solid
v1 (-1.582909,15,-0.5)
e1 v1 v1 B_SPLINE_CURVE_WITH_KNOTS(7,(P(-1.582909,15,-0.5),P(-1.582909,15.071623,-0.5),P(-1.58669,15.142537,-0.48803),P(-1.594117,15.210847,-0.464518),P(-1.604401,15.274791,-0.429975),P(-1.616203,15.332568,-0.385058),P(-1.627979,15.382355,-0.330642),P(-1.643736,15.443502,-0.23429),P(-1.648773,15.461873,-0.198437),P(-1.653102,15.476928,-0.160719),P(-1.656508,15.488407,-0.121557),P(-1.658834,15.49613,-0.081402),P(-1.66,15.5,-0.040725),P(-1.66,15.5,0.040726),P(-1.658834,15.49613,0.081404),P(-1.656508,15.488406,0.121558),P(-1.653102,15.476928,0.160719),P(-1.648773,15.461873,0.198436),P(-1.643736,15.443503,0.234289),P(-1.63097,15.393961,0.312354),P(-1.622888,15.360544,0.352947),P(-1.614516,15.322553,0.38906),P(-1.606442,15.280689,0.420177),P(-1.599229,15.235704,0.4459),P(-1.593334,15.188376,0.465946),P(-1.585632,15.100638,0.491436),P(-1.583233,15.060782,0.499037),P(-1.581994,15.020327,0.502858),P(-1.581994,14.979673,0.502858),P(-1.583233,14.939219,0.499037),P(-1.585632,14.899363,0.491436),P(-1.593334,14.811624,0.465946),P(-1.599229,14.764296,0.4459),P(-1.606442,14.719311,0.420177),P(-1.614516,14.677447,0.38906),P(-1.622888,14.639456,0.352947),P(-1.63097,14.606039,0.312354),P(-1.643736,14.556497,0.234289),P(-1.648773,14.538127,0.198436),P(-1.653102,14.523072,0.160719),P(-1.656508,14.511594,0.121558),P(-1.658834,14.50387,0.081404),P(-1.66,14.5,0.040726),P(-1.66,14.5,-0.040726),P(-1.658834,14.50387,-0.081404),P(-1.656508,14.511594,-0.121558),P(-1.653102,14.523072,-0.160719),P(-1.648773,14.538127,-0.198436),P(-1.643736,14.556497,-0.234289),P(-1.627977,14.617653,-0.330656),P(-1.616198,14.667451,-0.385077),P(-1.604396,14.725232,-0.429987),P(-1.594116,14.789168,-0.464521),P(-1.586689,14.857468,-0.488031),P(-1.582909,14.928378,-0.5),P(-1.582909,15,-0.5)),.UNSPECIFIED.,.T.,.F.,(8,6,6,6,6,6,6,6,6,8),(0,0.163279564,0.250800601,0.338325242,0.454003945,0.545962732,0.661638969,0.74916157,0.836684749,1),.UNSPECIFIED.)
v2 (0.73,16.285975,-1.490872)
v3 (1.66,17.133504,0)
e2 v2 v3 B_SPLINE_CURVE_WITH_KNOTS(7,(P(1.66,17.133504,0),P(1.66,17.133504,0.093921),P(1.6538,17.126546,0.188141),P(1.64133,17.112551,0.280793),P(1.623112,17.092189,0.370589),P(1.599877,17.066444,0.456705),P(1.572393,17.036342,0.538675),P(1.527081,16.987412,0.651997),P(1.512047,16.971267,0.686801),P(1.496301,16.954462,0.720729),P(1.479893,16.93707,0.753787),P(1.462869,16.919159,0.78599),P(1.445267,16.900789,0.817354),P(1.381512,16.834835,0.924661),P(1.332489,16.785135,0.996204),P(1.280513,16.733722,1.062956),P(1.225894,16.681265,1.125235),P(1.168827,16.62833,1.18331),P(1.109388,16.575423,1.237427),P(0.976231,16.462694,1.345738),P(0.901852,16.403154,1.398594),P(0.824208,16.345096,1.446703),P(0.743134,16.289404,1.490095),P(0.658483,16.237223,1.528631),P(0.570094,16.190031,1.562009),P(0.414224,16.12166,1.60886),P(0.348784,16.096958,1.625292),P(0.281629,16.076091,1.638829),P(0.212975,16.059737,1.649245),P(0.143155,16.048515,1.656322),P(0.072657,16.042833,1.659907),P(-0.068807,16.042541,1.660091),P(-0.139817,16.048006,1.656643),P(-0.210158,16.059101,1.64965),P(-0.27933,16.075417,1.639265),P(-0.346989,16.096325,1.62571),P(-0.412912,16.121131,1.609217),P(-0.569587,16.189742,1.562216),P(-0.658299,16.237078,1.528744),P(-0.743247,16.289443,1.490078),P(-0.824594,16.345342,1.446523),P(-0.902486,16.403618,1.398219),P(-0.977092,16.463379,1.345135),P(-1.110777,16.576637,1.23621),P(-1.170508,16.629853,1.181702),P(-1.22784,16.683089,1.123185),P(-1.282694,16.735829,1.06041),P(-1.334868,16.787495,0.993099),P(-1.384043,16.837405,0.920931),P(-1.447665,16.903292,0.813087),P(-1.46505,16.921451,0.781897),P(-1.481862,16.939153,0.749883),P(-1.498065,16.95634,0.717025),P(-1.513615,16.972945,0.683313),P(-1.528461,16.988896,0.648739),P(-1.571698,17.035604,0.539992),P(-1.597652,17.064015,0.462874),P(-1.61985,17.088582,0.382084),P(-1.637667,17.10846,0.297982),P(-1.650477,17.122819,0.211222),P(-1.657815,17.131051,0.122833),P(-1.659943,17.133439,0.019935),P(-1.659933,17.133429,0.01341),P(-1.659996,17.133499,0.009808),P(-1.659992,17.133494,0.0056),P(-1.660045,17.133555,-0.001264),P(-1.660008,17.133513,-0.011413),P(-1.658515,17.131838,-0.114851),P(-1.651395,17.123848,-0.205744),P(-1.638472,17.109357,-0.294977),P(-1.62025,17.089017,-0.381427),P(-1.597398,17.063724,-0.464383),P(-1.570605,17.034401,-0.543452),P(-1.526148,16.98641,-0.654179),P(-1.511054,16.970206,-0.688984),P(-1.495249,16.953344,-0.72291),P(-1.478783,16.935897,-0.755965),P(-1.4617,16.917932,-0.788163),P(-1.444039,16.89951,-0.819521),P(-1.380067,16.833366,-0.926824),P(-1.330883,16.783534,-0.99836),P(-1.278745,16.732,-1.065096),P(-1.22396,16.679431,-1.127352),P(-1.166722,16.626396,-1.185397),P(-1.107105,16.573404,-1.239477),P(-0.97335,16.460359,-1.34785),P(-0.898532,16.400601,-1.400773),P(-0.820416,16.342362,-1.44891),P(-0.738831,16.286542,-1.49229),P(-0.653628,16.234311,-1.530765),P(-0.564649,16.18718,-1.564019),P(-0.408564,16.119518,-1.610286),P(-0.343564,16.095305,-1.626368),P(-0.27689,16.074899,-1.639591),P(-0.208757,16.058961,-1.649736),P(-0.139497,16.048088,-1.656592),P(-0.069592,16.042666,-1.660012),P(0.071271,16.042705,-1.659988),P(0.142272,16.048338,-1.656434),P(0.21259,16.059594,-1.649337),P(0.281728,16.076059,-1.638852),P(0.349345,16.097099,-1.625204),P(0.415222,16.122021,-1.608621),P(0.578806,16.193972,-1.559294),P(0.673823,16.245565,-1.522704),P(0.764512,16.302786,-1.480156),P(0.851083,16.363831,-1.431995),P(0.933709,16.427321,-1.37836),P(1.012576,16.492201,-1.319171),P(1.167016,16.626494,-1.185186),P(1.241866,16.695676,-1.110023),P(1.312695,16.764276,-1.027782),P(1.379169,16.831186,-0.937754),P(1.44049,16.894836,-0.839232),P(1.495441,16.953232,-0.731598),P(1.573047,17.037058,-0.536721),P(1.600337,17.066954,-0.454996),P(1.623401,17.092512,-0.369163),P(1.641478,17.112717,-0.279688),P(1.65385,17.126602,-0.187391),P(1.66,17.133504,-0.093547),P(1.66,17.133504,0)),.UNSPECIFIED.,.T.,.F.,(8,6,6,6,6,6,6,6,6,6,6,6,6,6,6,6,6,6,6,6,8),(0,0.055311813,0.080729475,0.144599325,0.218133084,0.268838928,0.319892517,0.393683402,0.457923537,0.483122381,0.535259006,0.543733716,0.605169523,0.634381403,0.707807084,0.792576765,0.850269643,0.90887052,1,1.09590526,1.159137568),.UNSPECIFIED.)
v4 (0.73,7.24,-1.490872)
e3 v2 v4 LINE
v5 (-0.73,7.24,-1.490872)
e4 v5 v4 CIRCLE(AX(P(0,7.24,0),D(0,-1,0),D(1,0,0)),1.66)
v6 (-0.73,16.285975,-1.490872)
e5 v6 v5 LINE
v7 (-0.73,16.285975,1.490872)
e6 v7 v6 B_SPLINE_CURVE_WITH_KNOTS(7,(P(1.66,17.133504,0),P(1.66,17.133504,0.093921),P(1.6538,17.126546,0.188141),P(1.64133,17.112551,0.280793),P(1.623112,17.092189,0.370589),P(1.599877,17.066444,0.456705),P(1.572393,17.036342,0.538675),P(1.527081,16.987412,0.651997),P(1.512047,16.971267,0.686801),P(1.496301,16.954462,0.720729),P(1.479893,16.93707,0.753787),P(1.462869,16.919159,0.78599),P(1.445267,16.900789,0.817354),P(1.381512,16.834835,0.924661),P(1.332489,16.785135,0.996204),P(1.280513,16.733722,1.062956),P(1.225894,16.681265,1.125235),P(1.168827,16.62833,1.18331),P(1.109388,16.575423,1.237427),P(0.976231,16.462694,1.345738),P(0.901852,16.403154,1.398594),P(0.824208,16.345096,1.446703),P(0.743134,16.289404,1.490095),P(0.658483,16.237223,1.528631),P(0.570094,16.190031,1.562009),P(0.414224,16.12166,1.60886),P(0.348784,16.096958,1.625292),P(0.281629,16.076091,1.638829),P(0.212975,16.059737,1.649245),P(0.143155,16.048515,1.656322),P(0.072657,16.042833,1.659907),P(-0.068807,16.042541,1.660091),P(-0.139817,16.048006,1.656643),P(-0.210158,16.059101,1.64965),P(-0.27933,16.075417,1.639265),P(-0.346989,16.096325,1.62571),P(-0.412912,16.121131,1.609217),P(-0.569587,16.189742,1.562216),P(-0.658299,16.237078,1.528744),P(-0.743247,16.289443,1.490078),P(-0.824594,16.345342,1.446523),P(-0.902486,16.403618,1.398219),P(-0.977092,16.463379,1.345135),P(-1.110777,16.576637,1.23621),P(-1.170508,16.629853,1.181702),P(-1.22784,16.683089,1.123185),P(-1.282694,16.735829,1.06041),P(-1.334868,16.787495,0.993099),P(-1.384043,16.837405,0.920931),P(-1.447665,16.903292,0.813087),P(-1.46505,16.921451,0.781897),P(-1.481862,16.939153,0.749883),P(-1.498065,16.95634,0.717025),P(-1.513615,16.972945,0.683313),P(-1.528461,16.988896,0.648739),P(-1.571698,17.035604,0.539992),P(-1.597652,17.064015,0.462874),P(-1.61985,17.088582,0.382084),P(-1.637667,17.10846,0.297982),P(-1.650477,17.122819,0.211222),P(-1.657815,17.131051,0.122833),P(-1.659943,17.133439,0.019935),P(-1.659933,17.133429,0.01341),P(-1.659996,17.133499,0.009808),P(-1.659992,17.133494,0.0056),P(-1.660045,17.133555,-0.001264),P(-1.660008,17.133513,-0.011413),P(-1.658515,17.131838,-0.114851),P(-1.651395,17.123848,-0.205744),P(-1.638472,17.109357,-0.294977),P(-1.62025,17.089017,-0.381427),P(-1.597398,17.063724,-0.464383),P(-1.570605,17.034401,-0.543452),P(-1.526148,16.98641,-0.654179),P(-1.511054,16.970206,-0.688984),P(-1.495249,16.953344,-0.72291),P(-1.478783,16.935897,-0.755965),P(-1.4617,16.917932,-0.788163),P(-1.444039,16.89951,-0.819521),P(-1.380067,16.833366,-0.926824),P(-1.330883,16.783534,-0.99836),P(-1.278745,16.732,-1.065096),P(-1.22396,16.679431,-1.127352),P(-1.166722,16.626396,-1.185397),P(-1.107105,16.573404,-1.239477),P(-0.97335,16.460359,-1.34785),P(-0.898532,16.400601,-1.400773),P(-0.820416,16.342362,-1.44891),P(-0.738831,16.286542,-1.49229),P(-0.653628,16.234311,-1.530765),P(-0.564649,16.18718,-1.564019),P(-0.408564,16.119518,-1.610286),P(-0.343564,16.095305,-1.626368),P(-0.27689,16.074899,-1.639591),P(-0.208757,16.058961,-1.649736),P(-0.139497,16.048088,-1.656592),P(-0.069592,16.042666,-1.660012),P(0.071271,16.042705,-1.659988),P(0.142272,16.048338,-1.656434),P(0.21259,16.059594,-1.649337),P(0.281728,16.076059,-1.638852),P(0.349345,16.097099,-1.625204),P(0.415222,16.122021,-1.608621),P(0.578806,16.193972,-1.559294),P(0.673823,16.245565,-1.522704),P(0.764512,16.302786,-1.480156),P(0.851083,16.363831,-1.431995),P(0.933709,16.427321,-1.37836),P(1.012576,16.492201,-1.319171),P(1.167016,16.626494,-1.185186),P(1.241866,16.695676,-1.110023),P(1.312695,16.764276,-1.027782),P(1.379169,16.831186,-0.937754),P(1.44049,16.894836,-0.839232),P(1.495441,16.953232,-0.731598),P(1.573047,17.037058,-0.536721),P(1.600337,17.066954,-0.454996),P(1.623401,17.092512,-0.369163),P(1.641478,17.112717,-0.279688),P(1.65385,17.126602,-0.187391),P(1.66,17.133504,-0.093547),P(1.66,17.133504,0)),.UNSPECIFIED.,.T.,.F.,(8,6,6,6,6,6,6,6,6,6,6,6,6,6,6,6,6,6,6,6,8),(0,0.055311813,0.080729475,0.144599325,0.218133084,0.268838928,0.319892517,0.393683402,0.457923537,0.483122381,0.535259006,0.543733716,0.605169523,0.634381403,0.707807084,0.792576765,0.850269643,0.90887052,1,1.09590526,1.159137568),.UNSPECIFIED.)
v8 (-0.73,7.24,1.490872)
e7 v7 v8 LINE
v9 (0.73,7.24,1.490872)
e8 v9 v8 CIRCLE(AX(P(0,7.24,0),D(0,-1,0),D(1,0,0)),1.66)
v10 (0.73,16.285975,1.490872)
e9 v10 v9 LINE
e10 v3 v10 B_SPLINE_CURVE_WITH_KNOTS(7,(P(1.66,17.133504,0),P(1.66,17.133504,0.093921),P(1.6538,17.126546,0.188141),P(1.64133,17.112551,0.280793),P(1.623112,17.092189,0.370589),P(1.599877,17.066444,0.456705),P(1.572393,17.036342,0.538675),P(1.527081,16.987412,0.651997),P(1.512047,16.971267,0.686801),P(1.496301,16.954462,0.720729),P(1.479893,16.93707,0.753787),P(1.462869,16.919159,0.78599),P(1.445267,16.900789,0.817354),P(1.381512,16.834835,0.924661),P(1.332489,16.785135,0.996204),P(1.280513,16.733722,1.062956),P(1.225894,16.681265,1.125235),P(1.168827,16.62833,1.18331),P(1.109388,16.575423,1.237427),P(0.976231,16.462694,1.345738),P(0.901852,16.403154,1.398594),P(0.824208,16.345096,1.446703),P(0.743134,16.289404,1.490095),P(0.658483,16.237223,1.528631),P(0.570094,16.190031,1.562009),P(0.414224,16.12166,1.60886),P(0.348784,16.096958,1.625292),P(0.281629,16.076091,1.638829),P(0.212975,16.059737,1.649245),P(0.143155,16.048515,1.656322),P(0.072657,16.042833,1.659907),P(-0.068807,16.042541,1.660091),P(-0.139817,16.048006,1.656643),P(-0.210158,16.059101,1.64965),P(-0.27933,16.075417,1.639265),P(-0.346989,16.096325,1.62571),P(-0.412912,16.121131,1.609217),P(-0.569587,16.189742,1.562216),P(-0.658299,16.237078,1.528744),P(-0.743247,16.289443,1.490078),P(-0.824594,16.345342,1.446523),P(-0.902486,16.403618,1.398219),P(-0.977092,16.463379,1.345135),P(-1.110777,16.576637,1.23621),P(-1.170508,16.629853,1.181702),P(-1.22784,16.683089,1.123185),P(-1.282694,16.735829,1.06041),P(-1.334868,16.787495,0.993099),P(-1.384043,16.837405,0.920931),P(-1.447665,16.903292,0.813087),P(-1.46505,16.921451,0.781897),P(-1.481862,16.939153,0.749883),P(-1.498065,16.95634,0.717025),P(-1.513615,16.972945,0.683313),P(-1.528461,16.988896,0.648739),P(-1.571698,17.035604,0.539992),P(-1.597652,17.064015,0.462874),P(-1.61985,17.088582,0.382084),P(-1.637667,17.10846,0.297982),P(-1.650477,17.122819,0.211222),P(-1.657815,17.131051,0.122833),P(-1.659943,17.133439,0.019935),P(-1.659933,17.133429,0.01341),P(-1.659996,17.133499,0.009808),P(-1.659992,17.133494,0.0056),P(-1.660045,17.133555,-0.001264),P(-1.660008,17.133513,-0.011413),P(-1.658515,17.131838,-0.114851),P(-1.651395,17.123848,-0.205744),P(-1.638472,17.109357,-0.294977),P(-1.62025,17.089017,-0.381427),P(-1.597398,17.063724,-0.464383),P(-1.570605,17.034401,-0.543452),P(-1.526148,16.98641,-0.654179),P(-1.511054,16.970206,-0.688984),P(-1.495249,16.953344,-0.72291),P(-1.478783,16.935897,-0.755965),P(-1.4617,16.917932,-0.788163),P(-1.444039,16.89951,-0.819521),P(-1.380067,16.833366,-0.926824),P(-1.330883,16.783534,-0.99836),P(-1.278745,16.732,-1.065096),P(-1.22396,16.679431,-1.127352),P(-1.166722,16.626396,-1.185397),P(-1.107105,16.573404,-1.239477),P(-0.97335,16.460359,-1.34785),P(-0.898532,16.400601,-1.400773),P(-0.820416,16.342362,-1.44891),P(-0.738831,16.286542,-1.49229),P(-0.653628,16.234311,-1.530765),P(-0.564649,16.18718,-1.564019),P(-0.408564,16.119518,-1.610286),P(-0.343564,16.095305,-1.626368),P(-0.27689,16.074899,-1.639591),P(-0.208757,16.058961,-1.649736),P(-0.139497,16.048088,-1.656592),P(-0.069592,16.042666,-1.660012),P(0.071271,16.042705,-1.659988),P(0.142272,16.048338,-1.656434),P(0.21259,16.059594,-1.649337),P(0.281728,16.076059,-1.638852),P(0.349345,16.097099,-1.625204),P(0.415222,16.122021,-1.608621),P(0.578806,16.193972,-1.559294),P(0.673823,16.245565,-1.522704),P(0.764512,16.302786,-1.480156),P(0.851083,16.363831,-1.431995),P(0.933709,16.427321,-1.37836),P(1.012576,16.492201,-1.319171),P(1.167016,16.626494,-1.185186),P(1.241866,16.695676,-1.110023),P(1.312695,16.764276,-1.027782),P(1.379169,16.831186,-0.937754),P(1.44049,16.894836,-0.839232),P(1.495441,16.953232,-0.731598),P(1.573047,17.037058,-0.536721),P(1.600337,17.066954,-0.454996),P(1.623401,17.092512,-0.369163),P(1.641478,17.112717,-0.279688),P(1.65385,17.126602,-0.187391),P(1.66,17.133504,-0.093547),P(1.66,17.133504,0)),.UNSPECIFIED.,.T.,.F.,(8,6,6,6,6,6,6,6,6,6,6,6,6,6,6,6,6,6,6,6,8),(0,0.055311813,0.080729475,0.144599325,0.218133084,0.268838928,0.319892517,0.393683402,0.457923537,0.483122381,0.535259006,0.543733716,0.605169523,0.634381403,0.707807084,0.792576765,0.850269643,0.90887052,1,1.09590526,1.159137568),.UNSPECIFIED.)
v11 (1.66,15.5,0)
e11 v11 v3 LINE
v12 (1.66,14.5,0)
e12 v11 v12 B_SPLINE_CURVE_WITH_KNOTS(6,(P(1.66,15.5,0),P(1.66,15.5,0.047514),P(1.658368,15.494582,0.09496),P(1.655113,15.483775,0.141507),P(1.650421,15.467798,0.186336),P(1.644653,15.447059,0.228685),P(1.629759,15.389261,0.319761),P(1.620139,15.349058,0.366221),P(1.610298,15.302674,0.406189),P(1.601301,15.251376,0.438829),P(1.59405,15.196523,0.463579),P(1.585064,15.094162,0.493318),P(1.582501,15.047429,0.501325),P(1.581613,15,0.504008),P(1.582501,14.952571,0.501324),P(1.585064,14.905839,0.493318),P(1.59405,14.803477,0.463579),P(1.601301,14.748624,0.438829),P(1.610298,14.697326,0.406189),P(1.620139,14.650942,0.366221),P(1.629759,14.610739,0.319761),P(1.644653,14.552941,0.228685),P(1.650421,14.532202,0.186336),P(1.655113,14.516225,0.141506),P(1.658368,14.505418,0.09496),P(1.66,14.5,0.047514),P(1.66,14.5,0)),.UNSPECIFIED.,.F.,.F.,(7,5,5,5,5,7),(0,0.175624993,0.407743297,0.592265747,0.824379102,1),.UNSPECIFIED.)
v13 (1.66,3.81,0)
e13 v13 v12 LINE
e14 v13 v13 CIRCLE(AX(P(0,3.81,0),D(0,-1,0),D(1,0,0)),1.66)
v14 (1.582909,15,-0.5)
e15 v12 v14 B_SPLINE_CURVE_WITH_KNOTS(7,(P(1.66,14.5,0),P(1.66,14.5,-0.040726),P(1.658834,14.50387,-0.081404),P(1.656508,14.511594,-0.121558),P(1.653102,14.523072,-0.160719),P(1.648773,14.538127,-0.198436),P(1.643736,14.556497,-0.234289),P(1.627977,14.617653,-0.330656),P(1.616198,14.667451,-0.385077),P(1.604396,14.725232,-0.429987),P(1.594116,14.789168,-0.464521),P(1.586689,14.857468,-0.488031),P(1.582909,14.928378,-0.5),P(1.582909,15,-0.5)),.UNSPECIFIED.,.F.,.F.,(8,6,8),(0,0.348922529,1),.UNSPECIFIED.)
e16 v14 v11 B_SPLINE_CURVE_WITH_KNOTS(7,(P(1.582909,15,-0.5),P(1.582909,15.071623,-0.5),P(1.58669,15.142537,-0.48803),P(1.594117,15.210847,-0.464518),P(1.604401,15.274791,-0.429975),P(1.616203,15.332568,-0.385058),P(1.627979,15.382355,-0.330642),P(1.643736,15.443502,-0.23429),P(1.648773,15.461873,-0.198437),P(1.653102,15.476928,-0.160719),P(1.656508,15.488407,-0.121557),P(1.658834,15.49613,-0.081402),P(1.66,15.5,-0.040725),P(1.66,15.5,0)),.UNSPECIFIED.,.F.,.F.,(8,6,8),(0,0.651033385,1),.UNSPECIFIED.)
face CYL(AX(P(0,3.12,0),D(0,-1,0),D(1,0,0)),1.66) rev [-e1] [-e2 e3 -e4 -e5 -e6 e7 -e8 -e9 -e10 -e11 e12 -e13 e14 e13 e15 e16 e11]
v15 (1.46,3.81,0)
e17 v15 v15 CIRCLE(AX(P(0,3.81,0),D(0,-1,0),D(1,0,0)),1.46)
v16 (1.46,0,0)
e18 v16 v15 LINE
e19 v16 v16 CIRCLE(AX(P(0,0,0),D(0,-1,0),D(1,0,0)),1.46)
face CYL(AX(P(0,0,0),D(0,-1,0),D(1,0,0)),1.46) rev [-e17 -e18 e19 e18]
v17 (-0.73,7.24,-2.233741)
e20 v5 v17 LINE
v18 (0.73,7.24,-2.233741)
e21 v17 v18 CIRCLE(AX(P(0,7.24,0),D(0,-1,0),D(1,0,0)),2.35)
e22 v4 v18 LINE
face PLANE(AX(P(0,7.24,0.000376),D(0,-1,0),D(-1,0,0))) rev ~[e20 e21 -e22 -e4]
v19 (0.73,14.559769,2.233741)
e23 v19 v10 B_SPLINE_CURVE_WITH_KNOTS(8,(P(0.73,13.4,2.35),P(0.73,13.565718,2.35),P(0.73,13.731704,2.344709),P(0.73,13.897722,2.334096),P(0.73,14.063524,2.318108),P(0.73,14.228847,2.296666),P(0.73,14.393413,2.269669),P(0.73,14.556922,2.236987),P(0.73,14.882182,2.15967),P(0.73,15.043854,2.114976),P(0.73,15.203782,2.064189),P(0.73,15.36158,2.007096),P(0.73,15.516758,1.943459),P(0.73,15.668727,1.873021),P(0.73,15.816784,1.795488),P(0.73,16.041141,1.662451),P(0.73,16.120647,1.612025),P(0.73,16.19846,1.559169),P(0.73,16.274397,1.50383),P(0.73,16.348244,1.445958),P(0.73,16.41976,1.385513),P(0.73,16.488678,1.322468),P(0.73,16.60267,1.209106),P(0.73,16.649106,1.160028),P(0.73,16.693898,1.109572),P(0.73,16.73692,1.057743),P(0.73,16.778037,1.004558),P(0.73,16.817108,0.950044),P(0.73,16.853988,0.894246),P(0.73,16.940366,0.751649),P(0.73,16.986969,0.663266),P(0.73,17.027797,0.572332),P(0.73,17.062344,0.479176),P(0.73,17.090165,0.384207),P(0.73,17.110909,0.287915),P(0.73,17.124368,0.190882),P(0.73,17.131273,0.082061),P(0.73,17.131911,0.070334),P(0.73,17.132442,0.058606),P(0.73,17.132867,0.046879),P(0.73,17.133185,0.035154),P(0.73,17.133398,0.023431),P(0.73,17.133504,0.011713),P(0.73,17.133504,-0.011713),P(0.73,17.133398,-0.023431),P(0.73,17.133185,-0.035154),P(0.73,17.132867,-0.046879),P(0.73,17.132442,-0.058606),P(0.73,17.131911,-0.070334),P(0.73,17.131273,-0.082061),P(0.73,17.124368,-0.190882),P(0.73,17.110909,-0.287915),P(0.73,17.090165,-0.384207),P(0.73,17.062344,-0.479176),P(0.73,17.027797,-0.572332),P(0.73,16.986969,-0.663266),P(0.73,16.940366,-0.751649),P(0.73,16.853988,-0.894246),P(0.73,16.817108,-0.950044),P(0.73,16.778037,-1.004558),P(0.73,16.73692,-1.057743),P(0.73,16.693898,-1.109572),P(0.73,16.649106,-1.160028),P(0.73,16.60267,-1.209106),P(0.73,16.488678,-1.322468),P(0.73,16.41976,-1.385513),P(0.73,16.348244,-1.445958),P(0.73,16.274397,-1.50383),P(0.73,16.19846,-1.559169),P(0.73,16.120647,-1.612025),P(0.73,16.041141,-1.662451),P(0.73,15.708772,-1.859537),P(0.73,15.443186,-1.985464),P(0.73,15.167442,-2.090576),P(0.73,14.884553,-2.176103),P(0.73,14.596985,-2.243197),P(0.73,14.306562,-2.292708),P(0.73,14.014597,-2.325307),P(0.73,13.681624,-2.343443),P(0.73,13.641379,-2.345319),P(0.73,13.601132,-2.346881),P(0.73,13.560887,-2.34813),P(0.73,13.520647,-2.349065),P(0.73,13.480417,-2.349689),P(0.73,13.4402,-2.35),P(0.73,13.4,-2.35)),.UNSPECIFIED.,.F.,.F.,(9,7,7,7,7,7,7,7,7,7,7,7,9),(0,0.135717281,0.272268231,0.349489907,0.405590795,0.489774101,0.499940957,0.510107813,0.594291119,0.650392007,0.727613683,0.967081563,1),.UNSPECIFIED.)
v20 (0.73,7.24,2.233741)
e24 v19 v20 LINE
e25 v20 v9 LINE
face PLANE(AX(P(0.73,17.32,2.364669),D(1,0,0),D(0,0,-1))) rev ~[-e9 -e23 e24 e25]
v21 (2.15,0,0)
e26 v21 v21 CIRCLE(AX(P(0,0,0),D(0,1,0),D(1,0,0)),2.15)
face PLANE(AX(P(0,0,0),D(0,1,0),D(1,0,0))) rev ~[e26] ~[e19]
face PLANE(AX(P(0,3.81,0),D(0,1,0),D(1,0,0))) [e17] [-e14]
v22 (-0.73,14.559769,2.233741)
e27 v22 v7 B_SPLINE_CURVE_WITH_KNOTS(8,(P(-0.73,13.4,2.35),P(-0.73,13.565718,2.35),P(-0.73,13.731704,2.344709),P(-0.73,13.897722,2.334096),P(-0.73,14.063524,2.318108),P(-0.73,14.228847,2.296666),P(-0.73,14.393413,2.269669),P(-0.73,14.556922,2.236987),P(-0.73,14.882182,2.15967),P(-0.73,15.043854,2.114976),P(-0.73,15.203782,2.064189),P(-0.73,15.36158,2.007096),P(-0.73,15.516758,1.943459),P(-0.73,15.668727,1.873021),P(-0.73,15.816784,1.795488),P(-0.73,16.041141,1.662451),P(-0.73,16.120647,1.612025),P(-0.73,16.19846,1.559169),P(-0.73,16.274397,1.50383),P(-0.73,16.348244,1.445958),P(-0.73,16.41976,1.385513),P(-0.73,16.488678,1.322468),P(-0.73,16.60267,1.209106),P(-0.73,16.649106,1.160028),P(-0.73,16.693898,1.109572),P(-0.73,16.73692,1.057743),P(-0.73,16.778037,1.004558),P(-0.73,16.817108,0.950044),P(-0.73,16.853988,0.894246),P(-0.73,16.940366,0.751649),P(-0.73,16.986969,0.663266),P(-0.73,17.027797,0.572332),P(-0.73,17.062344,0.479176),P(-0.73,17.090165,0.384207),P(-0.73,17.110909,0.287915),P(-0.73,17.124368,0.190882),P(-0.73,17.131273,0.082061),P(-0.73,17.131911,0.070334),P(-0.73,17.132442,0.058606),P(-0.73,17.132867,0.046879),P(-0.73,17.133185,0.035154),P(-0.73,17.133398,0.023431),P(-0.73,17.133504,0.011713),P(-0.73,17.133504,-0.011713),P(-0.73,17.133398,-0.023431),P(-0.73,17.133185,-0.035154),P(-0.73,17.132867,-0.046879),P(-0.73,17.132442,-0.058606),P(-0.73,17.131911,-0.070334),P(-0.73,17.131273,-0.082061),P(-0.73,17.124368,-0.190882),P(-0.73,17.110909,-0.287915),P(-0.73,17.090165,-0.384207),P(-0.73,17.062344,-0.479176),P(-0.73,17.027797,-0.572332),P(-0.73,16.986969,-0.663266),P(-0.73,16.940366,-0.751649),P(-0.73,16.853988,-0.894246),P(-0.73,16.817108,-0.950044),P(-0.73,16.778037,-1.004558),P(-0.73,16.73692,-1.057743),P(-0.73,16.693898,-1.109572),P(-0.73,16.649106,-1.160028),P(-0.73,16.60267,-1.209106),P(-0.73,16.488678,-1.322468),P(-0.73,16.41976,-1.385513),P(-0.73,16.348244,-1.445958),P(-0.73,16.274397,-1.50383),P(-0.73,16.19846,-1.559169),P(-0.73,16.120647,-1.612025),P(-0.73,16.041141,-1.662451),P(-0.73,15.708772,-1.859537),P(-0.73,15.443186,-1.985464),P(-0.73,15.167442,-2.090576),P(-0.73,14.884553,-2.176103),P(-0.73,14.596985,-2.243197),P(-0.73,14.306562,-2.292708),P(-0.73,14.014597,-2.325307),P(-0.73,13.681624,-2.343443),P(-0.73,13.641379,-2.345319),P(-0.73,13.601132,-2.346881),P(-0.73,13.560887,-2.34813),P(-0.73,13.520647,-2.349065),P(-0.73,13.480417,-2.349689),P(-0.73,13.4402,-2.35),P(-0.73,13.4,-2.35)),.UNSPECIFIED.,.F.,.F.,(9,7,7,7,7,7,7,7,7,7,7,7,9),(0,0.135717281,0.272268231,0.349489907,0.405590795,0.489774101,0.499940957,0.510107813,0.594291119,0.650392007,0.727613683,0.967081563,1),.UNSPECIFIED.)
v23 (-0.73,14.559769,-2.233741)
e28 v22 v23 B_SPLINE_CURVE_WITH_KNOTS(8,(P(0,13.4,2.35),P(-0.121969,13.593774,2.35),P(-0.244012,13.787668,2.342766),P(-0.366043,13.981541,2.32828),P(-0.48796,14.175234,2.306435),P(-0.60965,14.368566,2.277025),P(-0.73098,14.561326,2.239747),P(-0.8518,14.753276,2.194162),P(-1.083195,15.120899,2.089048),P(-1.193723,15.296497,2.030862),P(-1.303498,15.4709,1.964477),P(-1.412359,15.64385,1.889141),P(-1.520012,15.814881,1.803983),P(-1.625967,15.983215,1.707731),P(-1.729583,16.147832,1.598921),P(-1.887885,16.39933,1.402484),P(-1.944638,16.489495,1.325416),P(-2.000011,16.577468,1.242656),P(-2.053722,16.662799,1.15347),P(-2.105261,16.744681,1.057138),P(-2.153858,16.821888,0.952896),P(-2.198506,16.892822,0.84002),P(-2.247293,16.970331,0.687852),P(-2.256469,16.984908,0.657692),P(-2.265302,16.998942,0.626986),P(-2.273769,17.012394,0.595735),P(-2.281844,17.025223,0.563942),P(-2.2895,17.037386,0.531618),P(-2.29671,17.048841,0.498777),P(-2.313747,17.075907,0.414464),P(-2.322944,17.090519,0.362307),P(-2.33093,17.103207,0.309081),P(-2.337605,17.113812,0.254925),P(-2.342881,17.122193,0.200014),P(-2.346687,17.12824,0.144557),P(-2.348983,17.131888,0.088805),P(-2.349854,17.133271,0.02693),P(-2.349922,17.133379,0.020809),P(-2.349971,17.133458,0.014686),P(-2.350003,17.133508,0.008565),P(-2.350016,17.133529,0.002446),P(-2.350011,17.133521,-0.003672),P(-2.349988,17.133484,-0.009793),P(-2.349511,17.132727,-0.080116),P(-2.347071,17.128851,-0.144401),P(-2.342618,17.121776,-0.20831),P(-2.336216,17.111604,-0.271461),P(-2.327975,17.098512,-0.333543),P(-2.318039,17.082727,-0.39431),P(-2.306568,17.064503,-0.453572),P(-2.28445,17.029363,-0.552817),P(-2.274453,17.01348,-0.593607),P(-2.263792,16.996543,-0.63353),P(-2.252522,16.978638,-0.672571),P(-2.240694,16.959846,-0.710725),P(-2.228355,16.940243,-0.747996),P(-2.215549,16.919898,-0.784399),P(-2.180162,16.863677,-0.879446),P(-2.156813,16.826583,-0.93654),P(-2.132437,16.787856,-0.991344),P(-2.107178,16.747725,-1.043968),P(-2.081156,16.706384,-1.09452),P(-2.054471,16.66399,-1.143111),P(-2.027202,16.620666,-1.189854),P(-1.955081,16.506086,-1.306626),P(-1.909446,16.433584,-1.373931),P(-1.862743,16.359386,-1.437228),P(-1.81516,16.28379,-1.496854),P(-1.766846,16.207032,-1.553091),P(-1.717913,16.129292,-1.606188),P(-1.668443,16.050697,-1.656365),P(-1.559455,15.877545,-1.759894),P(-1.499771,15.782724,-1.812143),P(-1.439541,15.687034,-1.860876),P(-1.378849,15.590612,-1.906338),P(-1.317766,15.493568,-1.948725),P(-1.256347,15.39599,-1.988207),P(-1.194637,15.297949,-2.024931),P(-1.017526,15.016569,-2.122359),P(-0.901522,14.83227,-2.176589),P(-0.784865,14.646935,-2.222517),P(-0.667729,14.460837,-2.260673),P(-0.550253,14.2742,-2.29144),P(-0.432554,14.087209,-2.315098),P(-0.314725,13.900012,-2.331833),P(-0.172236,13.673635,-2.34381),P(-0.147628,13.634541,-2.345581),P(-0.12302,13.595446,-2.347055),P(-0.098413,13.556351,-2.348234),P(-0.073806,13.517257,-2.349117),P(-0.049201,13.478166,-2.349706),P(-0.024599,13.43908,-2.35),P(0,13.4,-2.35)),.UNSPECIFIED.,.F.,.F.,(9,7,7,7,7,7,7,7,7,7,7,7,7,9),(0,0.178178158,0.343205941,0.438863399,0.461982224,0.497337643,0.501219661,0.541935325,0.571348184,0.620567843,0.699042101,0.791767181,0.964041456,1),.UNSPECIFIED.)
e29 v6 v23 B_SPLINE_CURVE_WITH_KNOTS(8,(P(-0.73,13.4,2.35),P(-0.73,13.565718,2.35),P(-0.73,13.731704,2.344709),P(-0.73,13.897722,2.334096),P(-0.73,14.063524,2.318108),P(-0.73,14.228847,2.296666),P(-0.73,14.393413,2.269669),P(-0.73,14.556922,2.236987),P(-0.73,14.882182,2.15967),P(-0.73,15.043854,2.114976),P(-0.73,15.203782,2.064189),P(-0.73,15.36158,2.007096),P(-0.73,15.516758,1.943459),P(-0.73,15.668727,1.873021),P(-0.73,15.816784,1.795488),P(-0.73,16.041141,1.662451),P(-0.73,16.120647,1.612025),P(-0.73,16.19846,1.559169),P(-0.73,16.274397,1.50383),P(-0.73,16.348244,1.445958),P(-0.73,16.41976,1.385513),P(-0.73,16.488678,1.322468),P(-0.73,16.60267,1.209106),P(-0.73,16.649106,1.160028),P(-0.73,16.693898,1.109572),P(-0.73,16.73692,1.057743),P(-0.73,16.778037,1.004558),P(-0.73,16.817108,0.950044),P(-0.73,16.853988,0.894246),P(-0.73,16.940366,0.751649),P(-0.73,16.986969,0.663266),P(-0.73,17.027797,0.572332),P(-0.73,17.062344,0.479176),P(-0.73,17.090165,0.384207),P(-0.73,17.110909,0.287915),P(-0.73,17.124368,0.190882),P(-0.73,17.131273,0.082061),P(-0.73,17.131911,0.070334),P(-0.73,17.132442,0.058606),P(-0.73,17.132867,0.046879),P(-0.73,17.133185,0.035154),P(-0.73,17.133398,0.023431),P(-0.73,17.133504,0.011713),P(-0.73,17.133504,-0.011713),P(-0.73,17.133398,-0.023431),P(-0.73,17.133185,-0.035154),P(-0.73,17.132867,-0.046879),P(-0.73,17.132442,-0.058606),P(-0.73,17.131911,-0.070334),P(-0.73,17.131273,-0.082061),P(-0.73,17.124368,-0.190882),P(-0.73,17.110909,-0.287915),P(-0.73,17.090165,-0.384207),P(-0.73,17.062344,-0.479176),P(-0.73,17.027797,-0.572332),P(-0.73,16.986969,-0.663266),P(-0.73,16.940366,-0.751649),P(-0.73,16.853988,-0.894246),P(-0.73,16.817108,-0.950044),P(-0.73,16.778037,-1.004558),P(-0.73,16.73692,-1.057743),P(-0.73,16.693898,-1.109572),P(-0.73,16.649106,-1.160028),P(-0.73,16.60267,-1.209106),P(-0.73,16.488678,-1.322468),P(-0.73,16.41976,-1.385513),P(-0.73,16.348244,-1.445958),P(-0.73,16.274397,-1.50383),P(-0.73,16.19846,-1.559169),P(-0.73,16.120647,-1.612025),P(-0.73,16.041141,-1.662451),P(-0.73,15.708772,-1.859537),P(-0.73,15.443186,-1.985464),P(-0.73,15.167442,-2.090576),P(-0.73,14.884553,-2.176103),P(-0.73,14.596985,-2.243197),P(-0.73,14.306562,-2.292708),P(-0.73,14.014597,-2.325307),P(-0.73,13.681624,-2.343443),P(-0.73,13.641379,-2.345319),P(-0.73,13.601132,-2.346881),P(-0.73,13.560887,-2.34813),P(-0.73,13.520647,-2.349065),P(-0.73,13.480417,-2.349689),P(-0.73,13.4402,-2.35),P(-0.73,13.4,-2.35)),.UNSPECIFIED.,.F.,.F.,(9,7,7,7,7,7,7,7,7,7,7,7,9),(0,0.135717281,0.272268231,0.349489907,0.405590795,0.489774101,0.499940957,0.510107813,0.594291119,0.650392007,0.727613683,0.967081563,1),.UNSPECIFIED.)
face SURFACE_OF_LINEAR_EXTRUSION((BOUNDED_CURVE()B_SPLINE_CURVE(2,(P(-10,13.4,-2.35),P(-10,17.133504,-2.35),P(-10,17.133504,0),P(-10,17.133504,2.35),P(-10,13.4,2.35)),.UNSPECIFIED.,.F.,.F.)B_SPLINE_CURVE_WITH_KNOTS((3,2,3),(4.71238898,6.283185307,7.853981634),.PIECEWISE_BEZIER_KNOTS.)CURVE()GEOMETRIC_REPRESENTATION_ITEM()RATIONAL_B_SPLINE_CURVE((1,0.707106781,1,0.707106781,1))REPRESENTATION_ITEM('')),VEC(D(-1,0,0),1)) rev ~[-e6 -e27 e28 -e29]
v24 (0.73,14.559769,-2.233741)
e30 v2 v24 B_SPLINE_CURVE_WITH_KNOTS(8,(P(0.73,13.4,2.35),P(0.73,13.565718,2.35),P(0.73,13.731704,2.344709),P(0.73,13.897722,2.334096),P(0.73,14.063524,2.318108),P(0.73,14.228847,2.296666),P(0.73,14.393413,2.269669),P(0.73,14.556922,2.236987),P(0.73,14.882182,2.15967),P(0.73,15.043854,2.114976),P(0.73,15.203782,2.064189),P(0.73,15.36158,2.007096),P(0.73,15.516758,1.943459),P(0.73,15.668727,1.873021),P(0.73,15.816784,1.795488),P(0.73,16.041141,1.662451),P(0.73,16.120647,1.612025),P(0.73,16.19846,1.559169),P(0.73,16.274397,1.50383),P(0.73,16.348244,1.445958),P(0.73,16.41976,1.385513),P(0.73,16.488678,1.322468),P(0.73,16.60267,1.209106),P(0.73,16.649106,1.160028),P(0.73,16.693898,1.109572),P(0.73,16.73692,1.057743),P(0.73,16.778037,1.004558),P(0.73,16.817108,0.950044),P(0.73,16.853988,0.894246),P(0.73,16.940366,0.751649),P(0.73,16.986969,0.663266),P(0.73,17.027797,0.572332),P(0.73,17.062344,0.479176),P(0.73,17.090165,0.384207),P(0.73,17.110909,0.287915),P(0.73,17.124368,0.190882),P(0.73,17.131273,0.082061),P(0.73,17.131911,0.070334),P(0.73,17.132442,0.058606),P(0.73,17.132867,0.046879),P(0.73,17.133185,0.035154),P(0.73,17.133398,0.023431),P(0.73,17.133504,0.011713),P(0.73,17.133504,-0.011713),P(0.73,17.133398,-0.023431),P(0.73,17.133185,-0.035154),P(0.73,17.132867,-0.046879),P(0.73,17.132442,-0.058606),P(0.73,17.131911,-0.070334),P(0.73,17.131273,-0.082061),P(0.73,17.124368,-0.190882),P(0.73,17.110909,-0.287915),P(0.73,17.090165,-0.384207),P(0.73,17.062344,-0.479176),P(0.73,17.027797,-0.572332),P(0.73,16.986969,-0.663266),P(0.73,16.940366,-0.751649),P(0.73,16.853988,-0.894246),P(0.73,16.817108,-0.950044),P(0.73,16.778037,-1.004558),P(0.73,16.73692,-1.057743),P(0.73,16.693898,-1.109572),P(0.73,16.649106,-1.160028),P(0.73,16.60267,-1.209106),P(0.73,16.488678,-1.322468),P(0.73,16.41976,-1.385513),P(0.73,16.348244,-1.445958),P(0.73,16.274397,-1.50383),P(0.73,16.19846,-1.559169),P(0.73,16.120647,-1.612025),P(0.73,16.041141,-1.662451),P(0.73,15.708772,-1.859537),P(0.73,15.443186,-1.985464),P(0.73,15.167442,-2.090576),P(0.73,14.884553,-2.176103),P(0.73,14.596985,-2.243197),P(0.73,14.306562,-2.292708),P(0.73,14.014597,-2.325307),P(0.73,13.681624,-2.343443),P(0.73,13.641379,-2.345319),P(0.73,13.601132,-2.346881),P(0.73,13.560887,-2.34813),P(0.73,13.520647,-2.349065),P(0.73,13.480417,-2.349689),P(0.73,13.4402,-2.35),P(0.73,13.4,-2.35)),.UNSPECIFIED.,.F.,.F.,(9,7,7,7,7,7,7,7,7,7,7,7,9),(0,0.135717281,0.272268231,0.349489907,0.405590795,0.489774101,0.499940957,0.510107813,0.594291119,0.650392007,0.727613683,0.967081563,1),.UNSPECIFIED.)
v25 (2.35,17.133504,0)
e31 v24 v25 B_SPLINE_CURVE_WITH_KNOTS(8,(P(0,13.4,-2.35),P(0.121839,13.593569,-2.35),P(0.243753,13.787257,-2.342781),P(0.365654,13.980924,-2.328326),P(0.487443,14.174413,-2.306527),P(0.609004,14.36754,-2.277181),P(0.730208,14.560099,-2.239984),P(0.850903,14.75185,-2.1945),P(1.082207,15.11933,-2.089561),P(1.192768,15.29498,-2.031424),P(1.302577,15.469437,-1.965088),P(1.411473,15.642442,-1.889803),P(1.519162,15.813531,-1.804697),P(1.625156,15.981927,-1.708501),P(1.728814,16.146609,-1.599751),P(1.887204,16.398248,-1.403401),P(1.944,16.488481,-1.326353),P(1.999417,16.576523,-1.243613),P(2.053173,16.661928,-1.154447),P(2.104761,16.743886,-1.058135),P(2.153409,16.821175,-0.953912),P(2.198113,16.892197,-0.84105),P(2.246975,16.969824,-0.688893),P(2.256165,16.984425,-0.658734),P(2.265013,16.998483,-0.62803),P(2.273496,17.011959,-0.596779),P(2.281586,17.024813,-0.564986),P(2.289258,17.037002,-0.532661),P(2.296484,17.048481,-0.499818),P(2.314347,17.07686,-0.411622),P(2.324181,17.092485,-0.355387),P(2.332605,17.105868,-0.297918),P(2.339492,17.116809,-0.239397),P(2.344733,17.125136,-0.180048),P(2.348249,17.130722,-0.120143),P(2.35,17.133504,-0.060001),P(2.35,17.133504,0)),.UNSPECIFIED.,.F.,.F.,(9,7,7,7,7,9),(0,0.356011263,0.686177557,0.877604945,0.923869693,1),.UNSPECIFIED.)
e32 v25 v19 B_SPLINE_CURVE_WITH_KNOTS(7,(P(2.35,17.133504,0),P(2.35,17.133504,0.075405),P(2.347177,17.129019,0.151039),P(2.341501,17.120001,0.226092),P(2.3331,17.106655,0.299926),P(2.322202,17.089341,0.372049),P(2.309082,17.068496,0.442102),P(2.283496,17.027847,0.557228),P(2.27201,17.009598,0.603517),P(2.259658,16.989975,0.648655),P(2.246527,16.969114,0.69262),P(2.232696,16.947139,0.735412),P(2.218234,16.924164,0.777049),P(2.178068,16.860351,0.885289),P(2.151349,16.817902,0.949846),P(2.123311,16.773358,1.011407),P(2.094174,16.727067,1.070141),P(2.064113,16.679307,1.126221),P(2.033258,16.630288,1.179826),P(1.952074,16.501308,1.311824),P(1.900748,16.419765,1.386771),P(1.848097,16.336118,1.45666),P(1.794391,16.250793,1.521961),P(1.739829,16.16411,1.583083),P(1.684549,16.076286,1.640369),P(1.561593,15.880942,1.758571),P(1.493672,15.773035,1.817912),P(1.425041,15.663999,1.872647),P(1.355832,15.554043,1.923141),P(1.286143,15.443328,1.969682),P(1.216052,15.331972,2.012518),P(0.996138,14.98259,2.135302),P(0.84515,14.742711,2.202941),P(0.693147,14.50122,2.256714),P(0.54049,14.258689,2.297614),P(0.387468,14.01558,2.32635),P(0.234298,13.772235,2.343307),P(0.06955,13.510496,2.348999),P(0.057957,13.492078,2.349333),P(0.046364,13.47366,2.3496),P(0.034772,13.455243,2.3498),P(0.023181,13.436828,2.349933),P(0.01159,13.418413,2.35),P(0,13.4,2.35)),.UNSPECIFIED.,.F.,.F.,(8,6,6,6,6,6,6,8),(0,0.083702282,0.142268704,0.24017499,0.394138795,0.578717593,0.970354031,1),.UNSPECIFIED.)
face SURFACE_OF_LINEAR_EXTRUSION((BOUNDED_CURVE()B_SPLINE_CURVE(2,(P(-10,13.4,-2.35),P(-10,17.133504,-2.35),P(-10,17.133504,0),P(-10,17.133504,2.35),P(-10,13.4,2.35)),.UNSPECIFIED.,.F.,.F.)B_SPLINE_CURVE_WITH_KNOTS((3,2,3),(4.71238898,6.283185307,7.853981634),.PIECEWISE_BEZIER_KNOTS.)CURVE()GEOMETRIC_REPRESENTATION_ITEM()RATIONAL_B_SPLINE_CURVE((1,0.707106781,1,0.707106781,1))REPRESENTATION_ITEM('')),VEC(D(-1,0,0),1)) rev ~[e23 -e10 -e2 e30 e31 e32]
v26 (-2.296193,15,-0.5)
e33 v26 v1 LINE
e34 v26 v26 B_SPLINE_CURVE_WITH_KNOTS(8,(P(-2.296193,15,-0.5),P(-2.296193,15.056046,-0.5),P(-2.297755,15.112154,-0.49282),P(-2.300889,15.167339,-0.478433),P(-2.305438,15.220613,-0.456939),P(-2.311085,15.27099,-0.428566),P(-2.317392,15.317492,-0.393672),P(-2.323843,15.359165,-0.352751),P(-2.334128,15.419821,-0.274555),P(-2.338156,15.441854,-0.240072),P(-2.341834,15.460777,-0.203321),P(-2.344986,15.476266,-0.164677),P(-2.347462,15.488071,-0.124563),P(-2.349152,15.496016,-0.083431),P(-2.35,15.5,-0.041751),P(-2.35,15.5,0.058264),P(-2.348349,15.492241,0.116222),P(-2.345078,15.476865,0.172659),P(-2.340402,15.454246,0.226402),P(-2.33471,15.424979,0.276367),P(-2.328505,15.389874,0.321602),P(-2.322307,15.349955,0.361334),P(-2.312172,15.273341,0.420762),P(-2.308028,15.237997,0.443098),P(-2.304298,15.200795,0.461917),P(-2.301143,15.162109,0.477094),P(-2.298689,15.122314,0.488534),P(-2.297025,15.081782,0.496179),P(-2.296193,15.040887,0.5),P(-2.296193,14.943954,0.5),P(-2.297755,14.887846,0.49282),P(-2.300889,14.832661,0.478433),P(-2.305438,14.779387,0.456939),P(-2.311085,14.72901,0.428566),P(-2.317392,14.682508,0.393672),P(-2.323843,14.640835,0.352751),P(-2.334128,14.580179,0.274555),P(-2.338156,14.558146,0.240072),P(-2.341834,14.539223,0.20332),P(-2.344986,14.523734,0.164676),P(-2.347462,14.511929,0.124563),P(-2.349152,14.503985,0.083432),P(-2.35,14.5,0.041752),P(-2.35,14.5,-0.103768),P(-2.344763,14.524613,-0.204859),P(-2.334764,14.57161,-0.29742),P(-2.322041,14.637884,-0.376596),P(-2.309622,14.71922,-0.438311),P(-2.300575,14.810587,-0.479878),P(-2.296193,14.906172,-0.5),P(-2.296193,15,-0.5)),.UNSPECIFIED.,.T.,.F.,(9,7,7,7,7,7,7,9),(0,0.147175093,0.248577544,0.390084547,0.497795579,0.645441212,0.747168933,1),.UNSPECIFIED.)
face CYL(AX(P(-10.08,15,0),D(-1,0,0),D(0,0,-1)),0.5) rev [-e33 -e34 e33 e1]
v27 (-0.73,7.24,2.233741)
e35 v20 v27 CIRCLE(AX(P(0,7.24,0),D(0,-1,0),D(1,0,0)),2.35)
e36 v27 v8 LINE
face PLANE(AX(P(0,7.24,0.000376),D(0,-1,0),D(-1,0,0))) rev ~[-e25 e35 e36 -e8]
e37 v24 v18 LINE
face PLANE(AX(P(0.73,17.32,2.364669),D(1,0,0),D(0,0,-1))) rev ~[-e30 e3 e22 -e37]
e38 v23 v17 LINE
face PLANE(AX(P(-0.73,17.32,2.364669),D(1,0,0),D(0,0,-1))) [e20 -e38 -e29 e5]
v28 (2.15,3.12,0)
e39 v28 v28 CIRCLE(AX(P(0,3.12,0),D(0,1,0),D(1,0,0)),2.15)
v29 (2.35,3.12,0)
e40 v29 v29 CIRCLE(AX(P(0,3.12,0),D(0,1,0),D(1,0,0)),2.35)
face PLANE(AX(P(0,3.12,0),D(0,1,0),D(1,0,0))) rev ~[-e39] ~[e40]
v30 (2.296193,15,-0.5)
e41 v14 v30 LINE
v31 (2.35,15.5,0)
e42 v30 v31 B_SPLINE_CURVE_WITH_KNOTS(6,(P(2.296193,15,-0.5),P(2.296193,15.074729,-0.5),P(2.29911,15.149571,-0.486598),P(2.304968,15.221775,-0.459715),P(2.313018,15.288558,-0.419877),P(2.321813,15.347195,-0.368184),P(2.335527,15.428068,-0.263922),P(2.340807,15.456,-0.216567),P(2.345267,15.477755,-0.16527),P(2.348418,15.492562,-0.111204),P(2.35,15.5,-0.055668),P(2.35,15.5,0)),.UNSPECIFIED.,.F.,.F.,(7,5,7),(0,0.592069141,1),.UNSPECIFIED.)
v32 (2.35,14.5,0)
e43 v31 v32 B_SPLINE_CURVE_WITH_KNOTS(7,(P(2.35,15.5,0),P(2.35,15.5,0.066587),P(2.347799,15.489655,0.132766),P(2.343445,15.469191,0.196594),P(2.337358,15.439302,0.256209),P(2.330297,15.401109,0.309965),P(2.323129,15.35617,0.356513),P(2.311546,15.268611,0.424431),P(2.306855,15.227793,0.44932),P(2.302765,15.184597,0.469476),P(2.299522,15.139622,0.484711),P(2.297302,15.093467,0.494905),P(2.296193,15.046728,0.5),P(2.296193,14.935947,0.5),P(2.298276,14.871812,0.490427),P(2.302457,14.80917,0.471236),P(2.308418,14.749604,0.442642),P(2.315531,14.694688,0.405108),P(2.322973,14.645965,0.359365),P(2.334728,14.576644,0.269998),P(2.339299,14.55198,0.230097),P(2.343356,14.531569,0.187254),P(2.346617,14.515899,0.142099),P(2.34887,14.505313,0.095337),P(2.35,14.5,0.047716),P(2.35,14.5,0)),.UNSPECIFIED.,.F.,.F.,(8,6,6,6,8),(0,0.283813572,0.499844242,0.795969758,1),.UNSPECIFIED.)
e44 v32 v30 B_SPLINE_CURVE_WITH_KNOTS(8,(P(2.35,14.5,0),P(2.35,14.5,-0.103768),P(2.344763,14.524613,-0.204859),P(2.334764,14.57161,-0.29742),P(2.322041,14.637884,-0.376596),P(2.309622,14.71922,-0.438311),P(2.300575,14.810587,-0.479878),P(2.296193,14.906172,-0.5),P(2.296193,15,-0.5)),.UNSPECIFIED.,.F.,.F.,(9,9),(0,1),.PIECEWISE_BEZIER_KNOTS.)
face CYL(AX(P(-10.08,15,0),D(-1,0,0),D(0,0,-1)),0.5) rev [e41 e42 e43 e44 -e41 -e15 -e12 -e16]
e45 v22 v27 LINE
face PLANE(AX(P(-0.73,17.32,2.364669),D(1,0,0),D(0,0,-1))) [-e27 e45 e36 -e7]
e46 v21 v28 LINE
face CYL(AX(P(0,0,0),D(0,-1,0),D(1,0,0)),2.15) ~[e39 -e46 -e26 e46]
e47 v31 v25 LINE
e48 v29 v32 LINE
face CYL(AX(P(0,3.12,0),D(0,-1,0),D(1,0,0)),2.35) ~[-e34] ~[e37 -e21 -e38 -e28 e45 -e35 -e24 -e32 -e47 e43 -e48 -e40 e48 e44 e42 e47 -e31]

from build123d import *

# Parameters (mm, degrees)
SKETCH1_R               = 2.15
BOSS_EXTRUDE1_DEPTH     = 3.12
SKETCH2_R               = 2.35
BOSS_EXTRUDE2_DEPTH     = 14.2
SHELL1_T                = -0.69
CUT_EXTRUDE2_DEPTH      = 10
CUT_EXTRUDE2_DEPTH_BACK = 10
SKETCH9_W               = 1.46
SKETCH9_H               = 4.728587073
CUT_EXTRUDE3_DEPTH      = 10.08
CUT_EXTRUDE4_DEPTH      = 10.08
CUT_EXTRUDE4_DEPTH_BACK = 10.08
SKETCH11_R              = 0.5


with BuildPart() as part:
    # Sketch1 → Boss-Extrude1 (new body)
    with BuildSketch(Plane(origin=(0, 0, 0), x_dir=(1, 0, 0), z_dir=(0, 1, 0))):
        Circle(SKETCH1_R)
    extrude(amount=BOSS_EXTRUDE1_DEPTH)

    # Sketch2 → Boss-Extrude2 (add)
    with BuildSketch(Plane(origin=(0, 3.12, 0), x_dir=(1, 0, 0), z_dir=(0, 1, 0))):
        Circle(SKETCH2_R)
    extrude(amount=BOSS_EXTRUDE2_DEPTH)

    # Shell1
    shell1_openings = [part.faces().sort_by_distance(p)[0] for p in [
        (0, 17.32, 0),
        (0, 0, 0),
    ]]
    offset(amount=SHELL1_T, openings=shell1_openings, kind=Kind.INTERSECTION)

    # Sketch7 → Cut-Extrude2 (cut, two sides: drawn at the far end of the back side and taken through both)
    with BuildSketch(Plane(origin=(0, 0, 0), x_dir=(0, 0, -1), z_dir=(1, 0, 0)).offset(-CUT_EXTRUDE2_DEPTH_BACK)):
        with BuildLine():
            Line((-4.35, 13.399999995), (-2.35, 13.399999995))
            add(Edge.make_bspline(
                [(2.35, 13.399999995), (2.35, 17.133503588), (0, 17.133503588), (-2.35, 17.133503588), (-2.35, 13.399999995)],
                knots=[4.71238898, 4.71238898, 4.71238898, 6.283185307, 6.283185307, 7.853981634, 7.853981634, 7.853981634], degree=2, weights=[1, 0.707106781, 1, 0.707106781, 1]))
            Line((2.35, 13.399999995), (4.35, 13.399999995))
            add(Edge.make_bspline(
                [(4.35, 13.399999995), (4.35, 14.065444098), (4.192339822, 15.412663566), (3.474819887, 17.250199614), (2.38815107, 18.531514052), (1.114988399, 19.194360722), (0, 19.382819631), (-1.114988399, 19.194360722), (-2.38815107, 18.531514052), (-3.474819887, 17.250199614), (-4.192339822, 15.412663566), (-4.35, 14.065444098), (-4.35, 13.399999995)],
                knots=[-1.570796327, -1.570796327, -1.570796327, -1.570796327, -1.178097245, -0.785398163, -0.392699082, -0.196349541, 0, 0.196349541, 0.392699082, 0.785398163, 1.178097245, 1.570796327, 1.570796327, 1.570796327, 1.570796327], degree=3))
        make_face()
    extrude(amount=CUT_EXTRUDE2_DEPTH + CUT_EXTRUDE2_DEPTH_BACK, mode=Mode.SUBTRACT)

    # Sketch9 → Cut-Extrude3 (cut)
    with BuildSketch(Plane(origin=(0, 17.32, 0), x_dir=(-1, 0, 0), z_dir=(0, -1, 0))):
        with Locations((0, -0.000375881)):
            Rectangle(SKETCH9_W, SKETCH9_H)
    extrude(amount=CUT_EXTRUDE3_DEPTH, mode=Mode.SUBTRACT)

    # Sketch11 → Cut-Extrude4 (cut, two sides: drawn at the far end of the back side and taken through both)
    with BuildSketch(Plane(origin=(0, 0, 0), x_dir=(0, 0, -1), z_dir=(1, 0, 0)).offset(-CUT_EXTRUDE4_DEPTH_BACK)):
        with Locations((0, 15)):
            Circle(SKETCH11_R)
    extrude(amount=CUT_EXTRUDE4_DEPTH + CUT_EXTRUDE4_DEPTH_BACK, mode=Mode.SUBTRACT)


solid = part.part
